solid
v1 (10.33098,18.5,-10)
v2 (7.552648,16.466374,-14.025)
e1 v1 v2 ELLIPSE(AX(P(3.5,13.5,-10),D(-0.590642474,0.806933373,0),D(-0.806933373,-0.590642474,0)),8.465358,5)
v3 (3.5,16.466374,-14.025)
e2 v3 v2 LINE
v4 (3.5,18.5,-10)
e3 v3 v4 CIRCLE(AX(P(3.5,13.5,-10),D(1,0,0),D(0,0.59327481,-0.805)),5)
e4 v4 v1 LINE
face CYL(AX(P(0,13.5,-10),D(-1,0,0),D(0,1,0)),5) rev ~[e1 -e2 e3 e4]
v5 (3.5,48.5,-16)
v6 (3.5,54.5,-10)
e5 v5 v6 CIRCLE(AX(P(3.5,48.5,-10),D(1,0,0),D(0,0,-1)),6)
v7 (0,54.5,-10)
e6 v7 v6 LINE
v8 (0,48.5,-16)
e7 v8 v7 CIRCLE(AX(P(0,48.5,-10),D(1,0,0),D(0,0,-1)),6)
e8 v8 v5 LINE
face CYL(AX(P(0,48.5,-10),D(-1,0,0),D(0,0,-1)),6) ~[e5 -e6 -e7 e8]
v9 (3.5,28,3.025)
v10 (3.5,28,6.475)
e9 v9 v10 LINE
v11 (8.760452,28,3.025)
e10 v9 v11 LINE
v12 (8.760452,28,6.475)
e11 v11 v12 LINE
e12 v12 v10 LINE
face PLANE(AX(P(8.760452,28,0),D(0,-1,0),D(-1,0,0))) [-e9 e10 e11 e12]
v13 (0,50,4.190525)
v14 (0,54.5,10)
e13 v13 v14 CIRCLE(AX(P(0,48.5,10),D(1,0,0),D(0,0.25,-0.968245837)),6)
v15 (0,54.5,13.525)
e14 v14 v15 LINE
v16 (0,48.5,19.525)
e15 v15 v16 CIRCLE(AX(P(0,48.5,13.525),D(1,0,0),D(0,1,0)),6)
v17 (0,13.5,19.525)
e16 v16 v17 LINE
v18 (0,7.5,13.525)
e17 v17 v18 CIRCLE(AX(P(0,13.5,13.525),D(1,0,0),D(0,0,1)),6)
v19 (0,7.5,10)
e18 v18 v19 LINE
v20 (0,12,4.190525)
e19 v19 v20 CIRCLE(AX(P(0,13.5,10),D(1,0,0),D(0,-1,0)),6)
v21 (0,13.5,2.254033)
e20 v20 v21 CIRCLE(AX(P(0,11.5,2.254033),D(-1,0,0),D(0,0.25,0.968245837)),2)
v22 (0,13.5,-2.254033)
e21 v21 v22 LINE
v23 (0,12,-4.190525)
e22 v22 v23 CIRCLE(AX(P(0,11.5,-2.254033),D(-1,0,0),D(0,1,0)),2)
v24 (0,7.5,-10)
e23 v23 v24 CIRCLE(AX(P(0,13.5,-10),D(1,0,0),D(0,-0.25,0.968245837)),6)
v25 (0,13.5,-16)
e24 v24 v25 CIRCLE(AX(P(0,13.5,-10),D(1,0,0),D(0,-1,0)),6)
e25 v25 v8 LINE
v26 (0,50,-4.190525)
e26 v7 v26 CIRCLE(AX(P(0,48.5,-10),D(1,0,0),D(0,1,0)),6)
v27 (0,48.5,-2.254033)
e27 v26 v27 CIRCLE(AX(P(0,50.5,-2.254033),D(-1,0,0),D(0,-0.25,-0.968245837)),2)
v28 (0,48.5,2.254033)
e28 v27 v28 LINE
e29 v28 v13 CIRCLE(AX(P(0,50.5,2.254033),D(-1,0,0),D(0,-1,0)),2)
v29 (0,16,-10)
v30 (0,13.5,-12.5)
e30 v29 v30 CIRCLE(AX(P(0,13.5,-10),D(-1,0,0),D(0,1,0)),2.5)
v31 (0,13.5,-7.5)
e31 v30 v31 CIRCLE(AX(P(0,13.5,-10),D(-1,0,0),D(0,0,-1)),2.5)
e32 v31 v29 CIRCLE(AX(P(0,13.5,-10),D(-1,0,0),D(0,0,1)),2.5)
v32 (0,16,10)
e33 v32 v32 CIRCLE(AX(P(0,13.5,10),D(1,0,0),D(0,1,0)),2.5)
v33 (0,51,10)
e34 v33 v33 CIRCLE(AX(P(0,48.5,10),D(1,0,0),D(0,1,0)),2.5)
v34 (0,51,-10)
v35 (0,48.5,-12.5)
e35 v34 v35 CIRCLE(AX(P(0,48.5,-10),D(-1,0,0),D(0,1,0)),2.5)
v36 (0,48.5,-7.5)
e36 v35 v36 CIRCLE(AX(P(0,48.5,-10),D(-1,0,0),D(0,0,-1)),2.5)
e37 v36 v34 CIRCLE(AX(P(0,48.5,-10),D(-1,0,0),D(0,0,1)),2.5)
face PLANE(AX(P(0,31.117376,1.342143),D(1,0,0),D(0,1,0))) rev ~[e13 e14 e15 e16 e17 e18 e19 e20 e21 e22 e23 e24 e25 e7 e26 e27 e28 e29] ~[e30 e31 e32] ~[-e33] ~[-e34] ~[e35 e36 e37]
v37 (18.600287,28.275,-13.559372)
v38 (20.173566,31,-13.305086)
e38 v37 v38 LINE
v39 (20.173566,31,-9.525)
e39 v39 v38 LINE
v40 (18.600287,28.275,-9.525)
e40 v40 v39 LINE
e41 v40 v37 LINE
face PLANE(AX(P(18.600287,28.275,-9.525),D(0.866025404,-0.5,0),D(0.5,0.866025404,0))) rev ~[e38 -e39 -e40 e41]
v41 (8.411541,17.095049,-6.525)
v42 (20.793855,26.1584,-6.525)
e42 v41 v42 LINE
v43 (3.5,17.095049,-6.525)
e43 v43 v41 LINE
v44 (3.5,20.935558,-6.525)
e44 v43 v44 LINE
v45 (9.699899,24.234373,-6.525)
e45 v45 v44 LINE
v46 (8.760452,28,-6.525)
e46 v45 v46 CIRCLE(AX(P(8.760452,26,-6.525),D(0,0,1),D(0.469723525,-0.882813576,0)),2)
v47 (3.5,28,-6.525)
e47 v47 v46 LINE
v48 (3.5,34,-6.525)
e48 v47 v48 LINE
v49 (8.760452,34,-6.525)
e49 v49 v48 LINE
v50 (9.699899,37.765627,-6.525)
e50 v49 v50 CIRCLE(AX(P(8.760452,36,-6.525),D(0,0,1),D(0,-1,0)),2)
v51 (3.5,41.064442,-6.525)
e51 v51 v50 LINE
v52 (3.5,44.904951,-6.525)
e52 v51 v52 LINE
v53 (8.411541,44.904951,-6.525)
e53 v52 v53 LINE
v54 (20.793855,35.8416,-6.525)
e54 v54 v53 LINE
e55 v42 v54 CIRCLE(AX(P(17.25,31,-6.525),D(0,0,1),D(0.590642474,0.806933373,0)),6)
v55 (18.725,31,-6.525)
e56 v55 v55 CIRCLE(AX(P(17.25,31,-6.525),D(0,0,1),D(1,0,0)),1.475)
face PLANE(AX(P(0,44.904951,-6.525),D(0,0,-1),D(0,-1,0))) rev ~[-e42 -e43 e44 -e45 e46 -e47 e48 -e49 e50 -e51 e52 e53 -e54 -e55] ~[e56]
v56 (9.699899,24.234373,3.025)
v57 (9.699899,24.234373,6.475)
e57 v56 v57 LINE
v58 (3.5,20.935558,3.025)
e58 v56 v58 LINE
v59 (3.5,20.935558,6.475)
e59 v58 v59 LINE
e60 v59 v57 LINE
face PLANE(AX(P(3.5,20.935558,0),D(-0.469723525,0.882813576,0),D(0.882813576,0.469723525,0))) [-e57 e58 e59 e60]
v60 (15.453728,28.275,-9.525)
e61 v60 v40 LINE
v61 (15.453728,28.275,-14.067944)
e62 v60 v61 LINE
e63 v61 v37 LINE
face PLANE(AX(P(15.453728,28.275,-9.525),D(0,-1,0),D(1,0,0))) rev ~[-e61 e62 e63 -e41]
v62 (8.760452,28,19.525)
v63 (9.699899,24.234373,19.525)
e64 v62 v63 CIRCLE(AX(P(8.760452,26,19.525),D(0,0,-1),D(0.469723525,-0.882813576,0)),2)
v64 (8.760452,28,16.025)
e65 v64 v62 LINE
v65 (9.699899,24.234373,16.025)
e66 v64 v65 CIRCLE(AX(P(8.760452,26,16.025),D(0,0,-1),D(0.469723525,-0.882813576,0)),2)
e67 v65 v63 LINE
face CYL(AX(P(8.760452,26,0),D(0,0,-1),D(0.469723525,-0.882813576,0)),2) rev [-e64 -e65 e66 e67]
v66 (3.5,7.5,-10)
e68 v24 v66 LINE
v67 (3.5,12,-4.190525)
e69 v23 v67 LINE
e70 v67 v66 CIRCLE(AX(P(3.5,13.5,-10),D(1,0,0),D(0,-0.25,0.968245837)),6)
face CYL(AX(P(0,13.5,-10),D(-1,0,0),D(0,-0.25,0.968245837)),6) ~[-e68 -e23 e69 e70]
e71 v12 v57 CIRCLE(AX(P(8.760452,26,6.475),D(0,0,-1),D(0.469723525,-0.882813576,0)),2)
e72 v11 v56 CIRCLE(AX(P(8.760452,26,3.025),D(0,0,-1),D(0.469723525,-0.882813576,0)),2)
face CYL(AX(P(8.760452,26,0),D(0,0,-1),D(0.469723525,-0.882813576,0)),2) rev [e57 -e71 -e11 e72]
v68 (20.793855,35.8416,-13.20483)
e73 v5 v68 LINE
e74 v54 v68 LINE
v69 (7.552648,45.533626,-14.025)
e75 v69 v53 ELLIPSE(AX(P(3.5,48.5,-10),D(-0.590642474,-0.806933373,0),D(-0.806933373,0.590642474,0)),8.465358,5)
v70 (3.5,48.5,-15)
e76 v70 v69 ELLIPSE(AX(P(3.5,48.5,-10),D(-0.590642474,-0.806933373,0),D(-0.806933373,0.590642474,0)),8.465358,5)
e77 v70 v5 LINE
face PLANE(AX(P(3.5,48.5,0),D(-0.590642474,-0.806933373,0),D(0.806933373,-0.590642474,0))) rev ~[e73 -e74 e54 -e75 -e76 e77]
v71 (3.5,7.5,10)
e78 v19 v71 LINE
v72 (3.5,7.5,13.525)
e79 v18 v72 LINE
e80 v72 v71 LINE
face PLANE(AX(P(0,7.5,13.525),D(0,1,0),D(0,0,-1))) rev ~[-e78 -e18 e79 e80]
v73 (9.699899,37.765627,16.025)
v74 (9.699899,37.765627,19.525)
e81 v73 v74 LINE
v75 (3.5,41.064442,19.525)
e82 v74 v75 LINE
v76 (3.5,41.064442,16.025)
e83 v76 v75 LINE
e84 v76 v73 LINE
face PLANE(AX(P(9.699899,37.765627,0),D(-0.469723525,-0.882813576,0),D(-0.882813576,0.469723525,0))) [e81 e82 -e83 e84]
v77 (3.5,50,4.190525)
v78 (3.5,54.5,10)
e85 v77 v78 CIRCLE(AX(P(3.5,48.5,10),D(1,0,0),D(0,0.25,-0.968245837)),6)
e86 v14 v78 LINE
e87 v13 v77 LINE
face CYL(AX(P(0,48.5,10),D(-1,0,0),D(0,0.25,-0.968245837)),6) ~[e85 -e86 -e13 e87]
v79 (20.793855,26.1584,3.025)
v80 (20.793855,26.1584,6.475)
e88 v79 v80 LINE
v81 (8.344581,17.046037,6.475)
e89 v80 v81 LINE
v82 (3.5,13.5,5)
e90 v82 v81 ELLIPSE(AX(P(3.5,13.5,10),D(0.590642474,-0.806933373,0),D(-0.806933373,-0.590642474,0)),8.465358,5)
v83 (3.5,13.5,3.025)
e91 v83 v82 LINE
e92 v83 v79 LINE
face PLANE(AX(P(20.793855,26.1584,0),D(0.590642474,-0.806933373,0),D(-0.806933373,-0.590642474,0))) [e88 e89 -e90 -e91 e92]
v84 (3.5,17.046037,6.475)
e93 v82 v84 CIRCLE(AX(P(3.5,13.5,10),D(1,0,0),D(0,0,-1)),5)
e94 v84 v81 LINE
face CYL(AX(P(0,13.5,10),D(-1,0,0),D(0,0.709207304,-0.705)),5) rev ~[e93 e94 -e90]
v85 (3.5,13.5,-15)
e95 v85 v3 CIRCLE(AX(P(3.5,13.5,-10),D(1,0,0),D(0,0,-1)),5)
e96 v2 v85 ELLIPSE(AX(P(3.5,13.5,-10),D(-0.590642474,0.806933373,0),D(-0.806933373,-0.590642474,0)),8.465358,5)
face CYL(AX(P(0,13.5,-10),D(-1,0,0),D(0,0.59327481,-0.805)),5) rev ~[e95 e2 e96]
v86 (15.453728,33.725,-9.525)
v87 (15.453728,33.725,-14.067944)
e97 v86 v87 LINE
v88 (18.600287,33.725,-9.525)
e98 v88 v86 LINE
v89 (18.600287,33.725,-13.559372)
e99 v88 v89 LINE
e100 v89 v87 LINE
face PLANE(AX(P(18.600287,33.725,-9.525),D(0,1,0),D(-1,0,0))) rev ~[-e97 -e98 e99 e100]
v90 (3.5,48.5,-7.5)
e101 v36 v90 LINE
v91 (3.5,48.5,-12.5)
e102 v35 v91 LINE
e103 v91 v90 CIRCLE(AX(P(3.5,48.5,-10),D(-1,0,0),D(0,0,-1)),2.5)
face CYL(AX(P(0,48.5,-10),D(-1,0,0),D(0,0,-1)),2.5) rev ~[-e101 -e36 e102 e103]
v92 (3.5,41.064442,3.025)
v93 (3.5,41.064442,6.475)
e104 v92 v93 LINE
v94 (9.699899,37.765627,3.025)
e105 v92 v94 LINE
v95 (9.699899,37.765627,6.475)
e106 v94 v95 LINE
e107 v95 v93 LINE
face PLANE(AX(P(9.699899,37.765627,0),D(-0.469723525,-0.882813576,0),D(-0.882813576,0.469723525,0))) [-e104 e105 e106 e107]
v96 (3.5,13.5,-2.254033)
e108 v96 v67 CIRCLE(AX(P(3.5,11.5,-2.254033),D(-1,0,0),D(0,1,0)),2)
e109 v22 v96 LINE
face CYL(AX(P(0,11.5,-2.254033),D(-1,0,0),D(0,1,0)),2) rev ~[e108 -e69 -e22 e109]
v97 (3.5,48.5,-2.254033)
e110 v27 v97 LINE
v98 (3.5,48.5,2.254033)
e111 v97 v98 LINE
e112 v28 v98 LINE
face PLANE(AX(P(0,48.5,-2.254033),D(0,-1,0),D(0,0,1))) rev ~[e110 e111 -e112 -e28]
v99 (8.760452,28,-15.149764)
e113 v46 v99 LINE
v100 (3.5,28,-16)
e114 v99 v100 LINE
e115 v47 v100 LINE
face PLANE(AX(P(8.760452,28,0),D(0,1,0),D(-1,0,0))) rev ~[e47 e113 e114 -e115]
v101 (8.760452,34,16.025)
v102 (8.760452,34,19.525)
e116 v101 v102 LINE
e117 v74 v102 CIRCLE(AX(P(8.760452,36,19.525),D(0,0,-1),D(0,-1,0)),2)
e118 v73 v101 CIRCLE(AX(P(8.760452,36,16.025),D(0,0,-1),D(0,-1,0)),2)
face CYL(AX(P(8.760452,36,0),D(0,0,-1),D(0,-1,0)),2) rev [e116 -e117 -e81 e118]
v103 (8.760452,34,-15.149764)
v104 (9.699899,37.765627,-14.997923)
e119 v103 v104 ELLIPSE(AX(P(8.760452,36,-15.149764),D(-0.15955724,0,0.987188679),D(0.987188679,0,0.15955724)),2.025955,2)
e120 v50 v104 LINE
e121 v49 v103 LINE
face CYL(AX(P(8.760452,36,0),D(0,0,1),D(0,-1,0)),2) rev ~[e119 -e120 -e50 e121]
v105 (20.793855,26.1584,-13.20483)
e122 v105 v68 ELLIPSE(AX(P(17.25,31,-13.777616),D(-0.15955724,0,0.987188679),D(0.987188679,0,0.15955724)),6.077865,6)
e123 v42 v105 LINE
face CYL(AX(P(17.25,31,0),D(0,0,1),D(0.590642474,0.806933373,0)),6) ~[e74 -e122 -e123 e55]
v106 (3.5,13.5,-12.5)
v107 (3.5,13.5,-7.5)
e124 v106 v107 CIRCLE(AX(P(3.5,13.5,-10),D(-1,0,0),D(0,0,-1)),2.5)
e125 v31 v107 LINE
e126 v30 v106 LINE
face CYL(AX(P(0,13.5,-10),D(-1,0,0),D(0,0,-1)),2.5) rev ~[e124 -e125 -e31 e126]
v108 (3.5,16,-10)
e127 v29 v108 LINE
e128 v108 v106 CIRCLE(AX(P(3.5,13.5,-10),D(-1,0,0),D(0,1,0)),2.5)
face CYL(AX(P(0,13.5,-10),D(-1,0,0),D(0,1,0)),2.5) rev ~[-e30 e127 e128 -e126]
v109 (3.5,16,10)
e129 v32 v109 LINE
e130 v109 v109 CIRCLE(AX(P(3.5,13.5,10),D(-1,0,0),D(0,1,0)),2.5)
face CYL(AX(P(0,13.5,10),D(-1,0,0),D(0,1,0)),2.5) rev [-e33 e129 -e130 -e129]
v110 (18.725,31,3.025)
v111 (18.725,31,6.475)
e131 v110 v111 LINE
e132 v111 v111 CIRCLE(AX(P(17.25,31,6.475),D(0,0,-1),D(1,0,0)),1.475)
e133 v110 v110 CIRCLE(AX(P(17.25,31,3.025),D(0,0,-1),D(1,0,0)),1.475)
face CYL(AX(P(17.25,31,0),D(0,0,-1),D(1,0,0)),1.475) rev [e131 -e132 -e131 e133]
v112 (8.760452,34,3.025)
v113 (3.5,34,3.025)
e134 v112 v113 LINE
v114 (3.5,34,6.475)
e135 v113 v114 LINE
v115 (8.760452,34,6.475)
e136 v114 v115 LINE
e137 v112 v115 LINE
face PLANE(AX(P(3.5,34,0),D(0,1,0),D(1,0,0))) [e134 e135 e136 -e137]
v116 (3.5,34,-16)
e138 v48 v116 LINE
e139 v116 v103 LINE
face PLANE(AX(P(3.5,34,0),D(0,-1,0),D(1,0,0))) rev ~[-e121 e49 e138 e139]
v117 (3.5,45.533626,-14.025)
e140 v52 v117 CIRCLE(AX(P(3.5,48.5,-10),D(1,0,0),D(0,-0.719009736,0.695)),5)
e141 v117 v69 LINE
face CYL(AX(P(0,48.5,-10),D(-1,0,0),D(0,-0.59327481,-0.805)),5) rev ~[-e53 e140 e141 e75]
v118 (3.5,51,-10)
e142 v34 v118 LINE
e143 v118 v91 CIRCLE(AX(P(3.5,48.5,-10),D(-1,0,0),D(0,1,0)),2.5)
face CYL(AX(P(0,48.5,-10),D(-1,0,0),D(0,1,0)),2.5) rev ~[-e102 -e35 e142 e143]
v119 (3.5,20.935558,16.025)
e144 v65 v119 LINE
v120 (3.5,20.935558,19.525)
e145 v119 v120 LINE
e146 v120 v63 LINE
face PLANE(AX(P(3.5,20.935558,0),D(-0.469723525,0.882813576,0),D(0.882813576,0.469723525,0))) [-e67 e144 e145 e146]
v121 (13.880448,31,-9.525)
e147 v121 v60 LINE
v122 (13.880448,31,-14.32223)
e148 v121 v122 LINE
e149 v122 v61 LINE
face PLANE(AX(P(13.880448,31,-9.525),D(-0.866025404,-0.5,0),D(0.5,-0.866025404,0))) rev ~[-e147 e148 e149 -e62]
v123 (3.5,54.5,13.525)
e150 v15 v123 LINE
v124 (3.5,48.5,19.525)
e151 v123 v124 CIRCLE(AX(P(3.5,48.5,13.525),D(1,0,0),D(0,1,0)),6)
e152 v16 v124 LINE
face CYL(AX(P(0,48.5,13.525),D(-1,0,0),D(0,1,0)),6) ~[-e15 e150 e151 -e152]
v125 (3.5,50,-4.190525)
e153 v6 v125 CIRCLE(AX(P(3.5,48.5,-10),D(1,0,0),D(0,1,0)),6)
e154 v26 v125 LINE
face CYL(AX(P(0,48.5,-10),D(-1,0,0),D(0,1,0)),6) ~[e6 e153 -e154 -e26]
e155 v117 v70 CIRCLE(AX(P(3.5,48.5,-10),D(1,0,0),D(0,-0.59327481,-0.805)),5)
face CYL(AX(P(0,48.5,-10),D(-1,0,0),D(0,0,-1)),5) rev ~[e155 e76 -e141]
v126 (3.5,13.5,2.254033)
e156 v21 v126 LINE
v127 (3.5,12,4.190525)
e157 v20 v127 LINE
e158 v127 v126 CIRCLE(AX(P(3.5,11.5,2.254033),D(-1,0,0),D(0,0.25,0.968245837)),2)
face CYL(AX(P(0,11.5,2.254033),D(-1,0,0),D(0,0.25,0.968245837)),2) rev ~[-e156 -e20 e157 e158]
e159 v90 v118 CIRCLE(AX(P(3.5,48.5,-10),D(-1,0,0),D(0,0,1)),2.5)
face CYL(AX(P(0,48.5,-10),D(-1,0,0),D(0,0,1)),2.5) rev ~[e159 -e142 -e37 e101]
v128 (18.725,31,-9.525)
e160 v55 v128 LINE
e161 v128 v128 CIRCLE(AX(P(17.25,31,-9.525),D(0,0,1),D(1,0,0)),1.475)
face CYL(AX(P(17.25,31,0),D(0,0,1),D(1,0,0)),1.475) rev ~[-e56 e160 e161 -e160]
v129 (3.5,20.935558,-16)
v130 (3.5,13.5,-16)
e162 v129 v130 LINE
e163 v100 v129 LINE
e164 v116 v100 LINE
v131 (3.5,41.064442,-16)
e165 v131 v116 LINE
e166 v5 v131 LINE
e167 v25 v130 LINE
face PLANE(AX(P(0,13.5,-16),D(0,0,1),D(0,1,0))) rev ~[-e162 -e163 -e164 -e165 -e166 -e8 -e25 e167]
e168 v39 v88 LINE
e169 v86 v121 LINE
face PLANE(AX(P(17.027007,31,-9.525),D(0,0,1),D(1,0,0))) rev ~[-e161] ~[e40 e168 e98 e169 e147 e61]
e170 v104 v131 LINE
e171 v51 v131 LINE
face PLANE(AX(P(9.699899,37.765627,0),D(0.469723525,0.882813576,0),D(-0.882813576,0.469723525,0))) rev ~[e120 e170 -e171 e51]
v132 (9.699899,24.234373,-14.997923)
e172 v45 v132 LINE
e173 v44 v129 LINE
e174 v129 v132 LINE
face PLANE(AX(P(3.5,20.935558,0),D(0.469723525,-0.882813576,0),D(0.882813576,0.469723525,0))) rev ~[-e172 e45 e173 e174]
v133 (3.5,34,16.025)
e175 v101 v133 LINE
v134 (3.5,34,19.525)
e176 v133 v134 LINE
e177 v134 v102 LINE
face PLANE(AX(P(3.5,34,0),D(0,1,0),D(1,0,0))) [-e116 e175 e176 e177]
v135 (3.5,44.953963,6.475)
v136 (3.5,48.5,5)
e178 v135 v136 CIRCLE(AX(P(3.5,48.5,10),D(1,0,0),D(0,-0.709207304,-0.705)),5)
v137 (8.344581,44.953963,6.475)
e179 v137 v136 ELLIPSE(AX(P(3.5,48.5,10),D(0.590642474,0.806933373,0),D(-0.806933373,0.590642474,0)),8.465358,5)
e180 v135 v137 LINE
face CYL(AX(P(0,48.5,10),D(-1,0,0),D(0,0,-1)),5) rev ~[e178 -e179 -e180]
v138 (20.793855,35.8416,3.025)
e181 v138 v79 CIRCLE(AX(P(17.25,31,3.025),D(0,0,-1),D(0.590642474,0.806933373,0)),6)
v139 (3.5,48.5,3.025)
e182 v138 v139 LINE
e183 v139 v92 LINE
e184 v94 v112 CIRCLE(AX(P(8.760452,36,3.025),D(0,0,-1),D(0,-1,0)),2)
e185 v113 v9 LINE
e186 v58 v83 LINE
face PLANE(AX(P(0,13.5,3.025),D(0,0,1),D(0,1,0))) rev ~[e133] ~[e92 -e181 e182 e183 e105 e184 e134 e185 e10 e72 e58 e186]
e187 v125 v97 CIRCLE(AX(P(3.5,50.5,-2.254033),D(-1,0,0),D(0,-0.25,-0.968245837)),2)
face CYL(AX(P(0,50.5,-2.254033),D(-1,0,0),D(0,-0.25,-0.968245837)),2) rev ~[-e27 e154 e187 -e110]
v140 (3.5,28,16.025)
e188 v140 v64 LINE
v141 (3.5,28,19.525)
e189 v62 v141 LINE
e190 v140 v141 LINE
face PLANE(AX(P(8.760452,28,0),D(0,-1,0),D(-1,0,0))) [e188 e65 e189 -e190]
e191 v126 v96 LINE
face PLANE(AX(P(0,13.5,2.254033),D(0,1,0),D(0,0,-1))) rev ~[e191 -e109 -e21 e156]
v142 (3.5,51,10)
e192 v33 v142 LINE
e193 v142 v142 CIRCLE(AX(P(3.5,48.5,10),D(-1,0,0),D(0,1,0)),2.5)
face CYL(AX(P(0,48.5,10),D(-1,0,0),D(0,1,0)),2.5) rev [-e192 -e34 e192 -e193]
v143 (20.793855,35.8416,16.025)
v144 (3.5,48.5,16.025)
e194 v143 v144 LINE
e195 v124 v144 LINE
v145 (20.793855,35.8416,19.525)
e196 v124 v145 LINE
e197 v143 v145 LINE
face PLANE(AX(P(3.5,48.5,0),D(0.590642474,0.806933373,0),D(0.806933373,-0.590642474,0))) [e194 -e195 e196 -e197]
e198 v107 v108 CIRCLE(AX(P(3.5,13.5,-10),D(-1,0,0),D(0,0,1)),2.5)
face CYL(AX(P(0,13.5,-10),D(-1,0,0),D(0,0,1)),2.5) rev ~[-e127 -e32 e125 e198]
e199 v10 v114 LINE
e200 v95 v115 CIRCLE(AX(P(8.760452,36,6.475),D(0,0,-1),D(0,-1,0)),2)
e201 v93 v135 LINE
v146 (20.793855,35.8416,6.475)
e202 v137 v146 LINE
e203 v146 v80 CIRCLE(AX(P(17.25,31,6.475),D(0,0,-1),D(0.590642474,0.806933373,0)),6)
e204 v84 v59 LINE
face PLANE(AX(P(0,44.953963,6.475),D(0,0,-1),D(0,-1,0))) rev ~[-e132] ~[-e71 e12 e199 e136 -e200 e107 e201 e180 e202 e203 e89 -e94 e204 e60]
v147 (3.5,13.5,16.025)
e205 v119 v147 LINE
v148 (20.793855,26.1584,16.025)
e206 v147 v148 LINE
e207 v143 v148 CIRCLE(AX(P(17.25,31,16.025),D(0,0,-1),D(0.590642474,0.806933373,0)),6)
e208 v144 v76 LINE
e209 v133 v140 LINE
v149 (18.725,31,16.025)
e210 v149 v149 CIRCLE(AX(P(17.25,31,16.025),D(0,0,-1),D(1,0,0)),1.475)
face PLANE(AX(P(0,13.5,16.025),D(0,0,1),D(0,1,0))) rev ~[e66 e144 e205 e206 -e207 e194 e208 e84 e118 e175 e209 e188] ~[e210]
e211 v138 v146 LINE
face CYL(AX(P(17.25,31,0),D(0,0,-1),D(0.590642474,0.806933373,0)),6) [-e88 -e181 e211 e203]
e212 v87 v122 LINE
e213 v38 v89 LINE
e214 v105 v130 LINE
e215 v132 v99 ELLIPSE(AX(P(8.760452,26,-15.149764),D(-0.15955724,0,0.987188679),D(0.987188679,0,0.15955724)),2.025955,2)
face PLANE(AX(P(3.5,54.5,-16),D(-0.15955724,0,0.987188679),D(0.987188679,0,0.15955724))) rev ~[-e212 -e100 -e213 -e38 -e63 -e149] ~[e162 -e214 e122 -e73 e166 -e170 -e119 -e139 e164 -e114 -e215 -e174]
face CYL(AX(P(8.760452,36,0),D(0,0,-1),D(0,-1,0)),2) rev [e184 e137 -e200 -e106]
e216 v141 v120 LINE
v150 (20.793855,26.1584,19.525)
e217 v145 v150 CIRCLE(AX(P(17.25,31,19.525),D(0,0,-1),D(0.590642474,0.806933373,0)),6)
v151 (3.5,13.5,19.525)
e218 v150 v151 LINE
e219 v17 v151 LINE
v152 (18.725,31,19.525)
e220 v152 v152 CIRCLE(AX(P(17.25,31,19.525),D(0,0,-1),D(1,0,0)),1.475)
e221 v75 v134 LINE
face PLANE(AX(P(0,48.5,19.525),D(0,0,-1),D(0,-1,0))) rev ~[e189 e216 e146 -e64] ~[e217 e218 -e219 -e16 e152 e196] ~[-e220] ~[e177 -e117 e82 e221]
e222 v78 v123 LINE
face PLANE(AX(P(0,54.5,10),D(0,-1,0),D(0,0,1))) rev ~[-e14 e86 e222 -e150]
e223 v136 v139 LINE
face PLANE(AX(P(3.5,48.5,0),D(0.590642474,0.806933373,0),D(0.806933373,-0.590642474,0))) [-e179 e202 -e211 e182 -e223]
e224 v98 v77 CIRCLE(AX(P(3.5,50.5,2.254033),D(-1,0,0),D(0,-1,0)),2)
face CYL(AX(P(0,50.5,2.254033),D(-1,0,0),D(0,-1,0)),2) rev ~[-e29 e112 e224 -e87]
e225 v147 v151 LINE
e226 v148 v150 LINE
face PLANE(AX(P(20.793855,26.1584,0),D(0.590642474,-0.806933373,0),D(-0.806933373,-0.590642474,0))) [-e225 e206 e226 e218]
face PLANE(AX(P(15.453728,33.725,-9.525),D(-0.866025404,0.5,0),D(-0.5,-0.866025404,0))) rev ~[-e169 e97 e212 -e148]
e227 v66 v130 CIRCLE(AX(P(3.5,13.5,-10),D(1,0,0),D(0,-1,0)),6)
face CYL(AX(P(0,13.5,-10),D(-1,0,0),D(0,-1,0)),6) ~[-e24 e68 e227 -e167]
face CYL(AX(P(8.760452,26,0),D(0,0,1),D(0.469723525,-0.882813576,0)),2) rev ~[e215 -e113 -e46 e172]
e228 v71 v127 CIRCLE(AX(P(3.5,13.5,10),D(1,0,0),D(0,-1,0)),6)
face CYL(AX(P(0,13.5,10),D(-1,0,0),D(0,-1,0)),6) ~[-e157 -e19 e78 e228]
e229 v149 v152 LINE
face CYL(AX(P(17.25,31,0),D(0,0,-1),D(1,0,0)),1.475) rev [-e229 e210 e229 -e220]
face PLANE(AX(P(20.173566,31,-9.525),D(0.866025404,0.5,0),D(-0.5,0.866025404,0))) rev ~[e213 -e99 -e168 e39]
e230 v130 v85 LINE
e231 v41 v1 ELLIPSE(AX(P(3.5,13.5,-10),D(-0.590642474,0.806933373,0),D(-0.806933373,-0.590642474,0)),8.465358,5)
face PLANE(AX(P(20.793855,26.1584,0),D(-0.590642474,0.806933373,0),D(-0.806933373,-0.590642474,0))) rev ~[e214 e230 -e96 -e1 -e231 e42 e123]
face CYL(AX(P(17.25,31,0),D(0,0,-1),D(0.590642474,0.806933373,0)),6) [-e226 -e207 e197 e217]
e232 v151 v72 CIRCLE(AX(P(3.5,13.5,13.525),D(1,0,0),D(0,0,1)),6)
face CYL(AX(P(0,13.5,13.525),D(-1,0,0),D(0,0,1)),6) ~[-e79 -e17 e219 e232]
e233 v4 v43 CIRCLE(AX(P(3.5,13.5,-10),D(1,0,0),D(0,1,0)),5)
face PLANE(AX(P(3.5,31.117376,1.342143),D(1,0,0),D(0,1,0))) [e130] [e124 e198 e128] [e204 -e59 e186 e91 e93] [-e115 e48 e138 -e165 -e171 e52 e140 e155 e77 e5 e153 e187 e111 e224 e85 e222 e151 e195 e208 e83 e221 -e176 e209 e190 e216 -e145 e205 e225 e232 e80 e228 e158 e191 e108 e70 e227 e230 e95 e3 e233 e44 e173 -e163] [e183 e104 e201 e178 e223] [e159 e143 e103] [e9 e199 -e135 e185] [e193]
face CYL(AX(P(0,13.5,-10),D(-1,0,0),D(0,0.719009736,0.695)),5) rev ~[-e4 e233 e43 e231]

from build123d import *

# Parameters (mm, degrees)
F0_R          = 2.5
F1_DEPTH      = 3.5
F0_W          = 5.5
F0_H          = 4
F2_DEPTH      = 25
F4_DEPTH      = 47.001
F5_R          = 1.475
F6_DEPTH      = 16.001
F6_DEPTH_BACK = 19.526
F8_R          = 1.475
F9_DEPTH      = 6.476


with BuildPart() as f1:
    # F0 (on Right) → F1 (new body)
    with BuildSketch(Plane.YZ):
        with BuildLine():
            Line((48.5, -15), (48.5, -16))
            ThreePointArc((48.5, -16), (52.7426406871, -14.2426406871), (54.5, -10))
            ThreePointArc((54.5, -10), (53.2434164903, -6.3257653858), (50, -4.1905249807))
            ThreePointArc((50, -4.1905249807), (48.9188611699, -3.478778179), (48.5, -2.2540333076))
            Line((48.5, -2.2540333076), (48.5, 2.2540333076))
            ThreePointArc((48.5, 2.2540333076), (48.9188611699, 3.478778179), (50, 4.1905249807))
            ThreePointArc((50, 4.1905249807), (53.2434164903, 6.3257653858), (54.5, 10))
            Line((54.5, 10), (54.5, 13.525))
            ThreePointArc((54.5, 13.525), (52.7426406871, 17.7676406871), (48.5, 19.525))
            Line((48.5, 19.525), (48.5, 16.025))
            Line((48.5, 16.025), (13.5, 16.025))
            Line((13.5, 16.025), (13.5, 19.525))
            ThreePointArc((13.5, 19.525), (9.2573593129, 17.7676406871), (7.5, 13.525))
            Line((7.5, 13.525), (7.5, 10))
            ThreePointArc((7.5, 10), (8.7565835097, 6.3257653858), (12, 4.1905249807))
            ThreePointArc((12, 4.1905249807), (13.0811388301, 3.478778179), (13.5, 2.2540333076))
            Line((13.5, 2.2540333076), (13.5, -2.2540333076))
            ThreePointArc((13.5, -2.2540333076), (13.0811388301, -3.478778179), (12, -4.1905249807))
            ThreePointArc((12, -4.1905249807), (8.7565835097, -6.3257653858), (7.5, -10))
            ThreePointArc((7.5, -10), (9.2573593129, -14.2426406871), (13.5, -16))
            Line((13.5, -16), (13.5, -15))
            ThreePointArc((13.5, -15), (8.8970118401, -8.047437581), (17.0950486784, -6.525))
            Line((17.0950486784, -6.525), (44.9049513216, -6.525))
            ThreePointArc((44.9049513216, -6.525), (50.3741340144, -5.3645257313), (53.5, -10))
            ThreePointArc((53.5, -10), (52.0355339059, -13.5355339059), (48.5, -15))
        make_face()
        with BuildLine():
            ThreePointArc((44.9539634802, 6.475), (46.5934563471, 14.6222387757), (53.5, 10))
            ThreePointArc((53.5, 10), (52.0355339059, 6.4644660941), (48.5, 5))
            Line((48.5, 5), (48.5, 3.025))
            Line((48.5, 3.025), (13.5, 3.025))
            Line((13.5, 3.025), (13.5, 5))
            ThreePointArc((13.5, 5), (9.9644660941, 13.5355339059), (18.5, 10))
            ThreePointArc((18.5, 10), (18.1222387757, 8.0934563471), (17.0460365198, 6.475))
            Line((17.0460365198, 6.475), (27.575, 6.475))
            Line((27.575, 6.475), (34.425, 6.475))
            Line((34.425, 6.475), (44.9539634802, 6.475))
        make_face(mode=Mode.SUBTRACT)
        with BuildLine():
            ThreePointArc((48.5, 5), (52.0355339059, 6.4644660941), (53.5, 10))
            ThreePointArc((53.5, 10), (46.5934563471, 14.6222387757), (44.9539634802, 6.475))
            Line((44.9539634802, 6.475), (48.5, 6.475))
            Line((48.5, 6.475), (48.5, 5))
        make_face()
        with Locations((48.5, 10)):
            Circle(F0_R, mode=Mode.SUBTRACT)
        with BuildLine():
            Line((13.5, 6.475), (17.0460365198, 6.475))
            ThreePointArc((17.0460365198, 6.475), (18.1222387757, 8.0934563471), (18.5, 10))
            ThreePointArc((18.5, 10), (9.9644660941, 13.5355339059), (13.5, 5))
            Line((13.5, 5), (13.5, 6.475))
        make_face()
        with Locations((13.5, 10)):
            Circle(F0_R, mode=Mode.SUBTRACT)
        with BuildLine():
            Line((48.5, -14.025), (48.5, -15))
            ThreePointArc((48.5, -15), (52.0355339059, -13.5355339059), (53.5, -10))
            ThreePointArc((53.5, -10), (50.3741340144, -5.3645257313), (44.9049513216, -6.525))
            Line((44.9049513216, -6.525), (48.5, -6.525))
            Line((48.5, -6.525), (48.5, -7.5))
            ThreePointArc((48.5, -7.5), (50.267766953, -8.232233047), (51, -10))
            ThreePointArc((51, -10), (50.267766953, -11.767766953), (48.5, -12.5))
            Line((48.5, -12.5), (48.5, -14.025))
        make_face()
        with BuildLine():
            ThreePointArc((17.0950486784, -6.525), (8.8970118401, -8.047437581), (13.5, -15))
            Line((13.5, -15), (13.5, -14.025))
            Line((13.5, -14.025), (13.5, -12.5))
            ThreePointArc((13.5, -12.5), (11, -10), (13.5, -7.5))
            Line((13.5, -7.5), (13.5, -6.525))
            Line((13.5, -6.525), (17.0950486784, -6.525))
        make_face()
        with BuildLine():
            ThreePointArc((44.9049513216, -6.525), (43.5174738282, -10.4176517058), (45.5336259508, -14.025))
            Line((45.5336259508, -14.025), (48.5, -14.025))
            Line((48.5, -14.025), (48.5, -12.5))
            ThreePointArc((48.5, -12.5), (46, -10), (48.5, -7.5))
            Line((48.5, -7.5), (48.5, -6.525))
            Line((48.5, -6.525), (44.9049513216, -6.525))
        make_face()
        with BuildLine():
            ThreePointArc((18.5, -10), (18.1354742687, -8.1258659856), (17.0950486784, -6.525))
            Line((17.0950486784, -6.525), (13.5, -6.525))
            Line((13.5, -6.525), (13.5, -7.5))
            ThreePointArc((13.5, -7.5), (15.267766953, -8.232233047), (16, -10))
            ThreePointArc((16, -10), (15.267766953, -11.767766953), (13.5, -12.5))
            Line((13.5, -12.5), (13.5, -14.025))
            Line((13.5, -14.025), (16.4663740492, -14.025))
            ThreePointArc((16.4663740492, -14.025), (17.9627273189, -12.2547871023), (18.5, -10))
        make_face()
        with BuildLine():
            ThreePointArc((13.5, 5), (15.420286437, 5.3834536718), (17.0460365198, 6.475))
            Line((17.0460365198, 6.475), (13.5, 6.475))
            Line((13.5, 6.475), (13.5, 5))
        make_face()
        with BuildLine():
            Line((48.5, 6.475), (44.9539634802, 6.475))
            ThreePointArc((44.9539634802, 6.475), (46.579713563, 5.3834536718), (48.5, 5))
            Line((48.5, 5), (48.5, 6.475))
        make_face()
        with BuildLine():
            ThreePointArc((45.5336259508, -14.025), (46.9387505004, -14.75), (48.5, -15))
            Line((48.5, -15), (48.5, -14.025))
            Line((48.5, -14.025), (45.5336259508, -14.025))
        make_face()
        with BuildLine():
            Line((13.5, -14.025), (13.5, -15))
            ThreePointArc((13.5, -15), (15.0612494996, -14.75), (16.4663740492, -14.025))
            Line((16.4663740492, -14.025), (13.5, -14.025))
        make_face()
    extrude(amount=F1_DEPTH)

    # F0 (on Right) → F2 (join)
    with BuildSketch(Plane.YZ):
        with Locations((31, -12.025)):
            Rectangle(F0_W, F0_H)
        with BuildLine():
            ThreePointArc((48.5, 5), (46.579713563, 5.3834536718), (44.9539634802, 6.475))
            Line((44.9539634802, 6.475), (34.425, 6.475))
            Line((34.425, 6.475), (27.575, 6.475))
            Line((27.575, 6.475), (17.0460365198, 6.475))
            ThreePointArc((17.0460365198, 6.475), (15.420286437, 5.3834536718), (13.5, 5))
            Line((13.5, 5), (13.5, 3.025))
            Line((13.5, 3.025), (48.5, 3.025))
            Line((48.5, 3.025), (48.5, 5))
        make_face()
        Polygon((48.5, 16.025), (48.5, 19.525), (35.4, 19.525), (26.6, 19.525), (13.5, 19.525), (13.5, 16.025), align=None)
        with BuildLine():
            Line((33.75, -14.025), (45.5336259508, -14.025))
            ThreePointArc((45.5336259508, -14.025), (43.5174738282, -10.4176517058), (44.9049513216, -6.525))
            Line((44.9049513216, -6.525), (17.0950486784, -6.525))
            ThreePointArc((17.0950486784, -6.525), (18.1354742687, -8.1258659856), (18.5, -10))
            ThreePointArc((18.5, -10), (17.9627273189, -12.2547871023), (16.4663740492, -14.025))
            Line((16.4663740492, -14.025), (28.25, -14.025))
            Line((28.25, -14.025), (28.25, -10.025))
            Line((28.25, -10.025), (33.75, -10.025))
            Line((33.75, -10.025), (33.75, -14.025))
        make_face()
        with BuildLine():
            Line((13.5, -16), (48.5, -16))
            Line((48.5, -16), (48.5, -15))
            ThreePointArc((48.5, -15), (46.9387505004, -14.75), (45.5336259508, -14.025))
            Line((45.5336259508, -14.025), (33.75, -14.025))
            Line((33.75, -14.025), (28.25, -14.025))
            Line((28.25, -14.025), (16.4663740492, -14.025))
            ThreePointArc((16.4663740492, -14.025), (15.0612494996, -14.75), (13.5, -15))
            Line((13.5, -15), (13.5, -16))
        make_face()
    extrude(amount=F2_DEPTH)

    # F3 (on face) → F4 (cut, through all)
    with BuildSketch(Plane(origin=(0, 54.5, 0), x_dir=(-1, 0, 0), z_dir=(0, 1, 0))):
        Polygon((-25, -12.525), (-25, -16), (-3.5, -16), align=None)
    extrude(amount=-F4_DEPTH, mode=Mode.SUBTRACT)

    # F5 (on Top) → F6 (cut, two sides)
    with BuildSketch(Plane.XY) as f6_sk:
        with BuildLine():
            ThreePointArc((20.7938548449, 35.8416002353), (23.25, 31), (20.7938548449, 26.1583997647))
            Line((20.7938548449, 26.1583997647), (3.5, 13.5))
            Line((3.5, 13.5), (25, 13.5))
            Line((25, 13.5), (25, 48.5))
            Line((25, 48.5), (3.5, 48.5))
            Line((3.5, 48.5), (20.7938548449, 35.8416002353))
        make_face()
        with Locations((17.25, 31)):
            Circle(F5_R)
        with BuildLine():
            Line((9.6998989998, 37.7656271516), (3.5, 41.0644418683))
            Line((3.5, 41.0644418683), (3.5, 34))
            Line((3.5, 34), (8.7604519489, 34))
            ThreePointArc((8.7604519489, 34), (10.7009743403, 35.5158793039), (9.6998989998, 37.7656271516))
        make_face()
        with BuildLine():
            Line((3.5, 28), (3.5, 20.9355581317))
            Line((3.5, 20.9355581317), (9.6998989998, 24.2343728484))
            ThreePointArc((9.6998989998, 24.2343728484), (10.7009743403, 26.4841206961), (8.7604519489, 28))
            Line((8.7604519489, 28), (3.5, 28))
        make_face()
    extrude(amount=-F6_DEPTH, mode=Mode.SUBTRACT)
    extrude(f6_sk.sketch, amount=F6_DEPTH_BACK, mode=Mode.SUBTRACT)

    # F8 (on offset) → F9 (cut, through all)
    with BuildSketch(Plane.XY.offset(-9.525)):
        Polygon((20.173566383, 31), (18.6002868994, 33.725), (15.4537279323, 33.725), (13.8804484488, 31), (15.4537279323, 28.275), (18.6002868994, 28.275), align=None)
        with Locations((17.25, 31)):
            Circle(F8_R, mode=Mode.SUBTRACT)
    extrude(amount=-F9_DEPTH, mode=Mode.SUBTRACT)


solid = f1.part
